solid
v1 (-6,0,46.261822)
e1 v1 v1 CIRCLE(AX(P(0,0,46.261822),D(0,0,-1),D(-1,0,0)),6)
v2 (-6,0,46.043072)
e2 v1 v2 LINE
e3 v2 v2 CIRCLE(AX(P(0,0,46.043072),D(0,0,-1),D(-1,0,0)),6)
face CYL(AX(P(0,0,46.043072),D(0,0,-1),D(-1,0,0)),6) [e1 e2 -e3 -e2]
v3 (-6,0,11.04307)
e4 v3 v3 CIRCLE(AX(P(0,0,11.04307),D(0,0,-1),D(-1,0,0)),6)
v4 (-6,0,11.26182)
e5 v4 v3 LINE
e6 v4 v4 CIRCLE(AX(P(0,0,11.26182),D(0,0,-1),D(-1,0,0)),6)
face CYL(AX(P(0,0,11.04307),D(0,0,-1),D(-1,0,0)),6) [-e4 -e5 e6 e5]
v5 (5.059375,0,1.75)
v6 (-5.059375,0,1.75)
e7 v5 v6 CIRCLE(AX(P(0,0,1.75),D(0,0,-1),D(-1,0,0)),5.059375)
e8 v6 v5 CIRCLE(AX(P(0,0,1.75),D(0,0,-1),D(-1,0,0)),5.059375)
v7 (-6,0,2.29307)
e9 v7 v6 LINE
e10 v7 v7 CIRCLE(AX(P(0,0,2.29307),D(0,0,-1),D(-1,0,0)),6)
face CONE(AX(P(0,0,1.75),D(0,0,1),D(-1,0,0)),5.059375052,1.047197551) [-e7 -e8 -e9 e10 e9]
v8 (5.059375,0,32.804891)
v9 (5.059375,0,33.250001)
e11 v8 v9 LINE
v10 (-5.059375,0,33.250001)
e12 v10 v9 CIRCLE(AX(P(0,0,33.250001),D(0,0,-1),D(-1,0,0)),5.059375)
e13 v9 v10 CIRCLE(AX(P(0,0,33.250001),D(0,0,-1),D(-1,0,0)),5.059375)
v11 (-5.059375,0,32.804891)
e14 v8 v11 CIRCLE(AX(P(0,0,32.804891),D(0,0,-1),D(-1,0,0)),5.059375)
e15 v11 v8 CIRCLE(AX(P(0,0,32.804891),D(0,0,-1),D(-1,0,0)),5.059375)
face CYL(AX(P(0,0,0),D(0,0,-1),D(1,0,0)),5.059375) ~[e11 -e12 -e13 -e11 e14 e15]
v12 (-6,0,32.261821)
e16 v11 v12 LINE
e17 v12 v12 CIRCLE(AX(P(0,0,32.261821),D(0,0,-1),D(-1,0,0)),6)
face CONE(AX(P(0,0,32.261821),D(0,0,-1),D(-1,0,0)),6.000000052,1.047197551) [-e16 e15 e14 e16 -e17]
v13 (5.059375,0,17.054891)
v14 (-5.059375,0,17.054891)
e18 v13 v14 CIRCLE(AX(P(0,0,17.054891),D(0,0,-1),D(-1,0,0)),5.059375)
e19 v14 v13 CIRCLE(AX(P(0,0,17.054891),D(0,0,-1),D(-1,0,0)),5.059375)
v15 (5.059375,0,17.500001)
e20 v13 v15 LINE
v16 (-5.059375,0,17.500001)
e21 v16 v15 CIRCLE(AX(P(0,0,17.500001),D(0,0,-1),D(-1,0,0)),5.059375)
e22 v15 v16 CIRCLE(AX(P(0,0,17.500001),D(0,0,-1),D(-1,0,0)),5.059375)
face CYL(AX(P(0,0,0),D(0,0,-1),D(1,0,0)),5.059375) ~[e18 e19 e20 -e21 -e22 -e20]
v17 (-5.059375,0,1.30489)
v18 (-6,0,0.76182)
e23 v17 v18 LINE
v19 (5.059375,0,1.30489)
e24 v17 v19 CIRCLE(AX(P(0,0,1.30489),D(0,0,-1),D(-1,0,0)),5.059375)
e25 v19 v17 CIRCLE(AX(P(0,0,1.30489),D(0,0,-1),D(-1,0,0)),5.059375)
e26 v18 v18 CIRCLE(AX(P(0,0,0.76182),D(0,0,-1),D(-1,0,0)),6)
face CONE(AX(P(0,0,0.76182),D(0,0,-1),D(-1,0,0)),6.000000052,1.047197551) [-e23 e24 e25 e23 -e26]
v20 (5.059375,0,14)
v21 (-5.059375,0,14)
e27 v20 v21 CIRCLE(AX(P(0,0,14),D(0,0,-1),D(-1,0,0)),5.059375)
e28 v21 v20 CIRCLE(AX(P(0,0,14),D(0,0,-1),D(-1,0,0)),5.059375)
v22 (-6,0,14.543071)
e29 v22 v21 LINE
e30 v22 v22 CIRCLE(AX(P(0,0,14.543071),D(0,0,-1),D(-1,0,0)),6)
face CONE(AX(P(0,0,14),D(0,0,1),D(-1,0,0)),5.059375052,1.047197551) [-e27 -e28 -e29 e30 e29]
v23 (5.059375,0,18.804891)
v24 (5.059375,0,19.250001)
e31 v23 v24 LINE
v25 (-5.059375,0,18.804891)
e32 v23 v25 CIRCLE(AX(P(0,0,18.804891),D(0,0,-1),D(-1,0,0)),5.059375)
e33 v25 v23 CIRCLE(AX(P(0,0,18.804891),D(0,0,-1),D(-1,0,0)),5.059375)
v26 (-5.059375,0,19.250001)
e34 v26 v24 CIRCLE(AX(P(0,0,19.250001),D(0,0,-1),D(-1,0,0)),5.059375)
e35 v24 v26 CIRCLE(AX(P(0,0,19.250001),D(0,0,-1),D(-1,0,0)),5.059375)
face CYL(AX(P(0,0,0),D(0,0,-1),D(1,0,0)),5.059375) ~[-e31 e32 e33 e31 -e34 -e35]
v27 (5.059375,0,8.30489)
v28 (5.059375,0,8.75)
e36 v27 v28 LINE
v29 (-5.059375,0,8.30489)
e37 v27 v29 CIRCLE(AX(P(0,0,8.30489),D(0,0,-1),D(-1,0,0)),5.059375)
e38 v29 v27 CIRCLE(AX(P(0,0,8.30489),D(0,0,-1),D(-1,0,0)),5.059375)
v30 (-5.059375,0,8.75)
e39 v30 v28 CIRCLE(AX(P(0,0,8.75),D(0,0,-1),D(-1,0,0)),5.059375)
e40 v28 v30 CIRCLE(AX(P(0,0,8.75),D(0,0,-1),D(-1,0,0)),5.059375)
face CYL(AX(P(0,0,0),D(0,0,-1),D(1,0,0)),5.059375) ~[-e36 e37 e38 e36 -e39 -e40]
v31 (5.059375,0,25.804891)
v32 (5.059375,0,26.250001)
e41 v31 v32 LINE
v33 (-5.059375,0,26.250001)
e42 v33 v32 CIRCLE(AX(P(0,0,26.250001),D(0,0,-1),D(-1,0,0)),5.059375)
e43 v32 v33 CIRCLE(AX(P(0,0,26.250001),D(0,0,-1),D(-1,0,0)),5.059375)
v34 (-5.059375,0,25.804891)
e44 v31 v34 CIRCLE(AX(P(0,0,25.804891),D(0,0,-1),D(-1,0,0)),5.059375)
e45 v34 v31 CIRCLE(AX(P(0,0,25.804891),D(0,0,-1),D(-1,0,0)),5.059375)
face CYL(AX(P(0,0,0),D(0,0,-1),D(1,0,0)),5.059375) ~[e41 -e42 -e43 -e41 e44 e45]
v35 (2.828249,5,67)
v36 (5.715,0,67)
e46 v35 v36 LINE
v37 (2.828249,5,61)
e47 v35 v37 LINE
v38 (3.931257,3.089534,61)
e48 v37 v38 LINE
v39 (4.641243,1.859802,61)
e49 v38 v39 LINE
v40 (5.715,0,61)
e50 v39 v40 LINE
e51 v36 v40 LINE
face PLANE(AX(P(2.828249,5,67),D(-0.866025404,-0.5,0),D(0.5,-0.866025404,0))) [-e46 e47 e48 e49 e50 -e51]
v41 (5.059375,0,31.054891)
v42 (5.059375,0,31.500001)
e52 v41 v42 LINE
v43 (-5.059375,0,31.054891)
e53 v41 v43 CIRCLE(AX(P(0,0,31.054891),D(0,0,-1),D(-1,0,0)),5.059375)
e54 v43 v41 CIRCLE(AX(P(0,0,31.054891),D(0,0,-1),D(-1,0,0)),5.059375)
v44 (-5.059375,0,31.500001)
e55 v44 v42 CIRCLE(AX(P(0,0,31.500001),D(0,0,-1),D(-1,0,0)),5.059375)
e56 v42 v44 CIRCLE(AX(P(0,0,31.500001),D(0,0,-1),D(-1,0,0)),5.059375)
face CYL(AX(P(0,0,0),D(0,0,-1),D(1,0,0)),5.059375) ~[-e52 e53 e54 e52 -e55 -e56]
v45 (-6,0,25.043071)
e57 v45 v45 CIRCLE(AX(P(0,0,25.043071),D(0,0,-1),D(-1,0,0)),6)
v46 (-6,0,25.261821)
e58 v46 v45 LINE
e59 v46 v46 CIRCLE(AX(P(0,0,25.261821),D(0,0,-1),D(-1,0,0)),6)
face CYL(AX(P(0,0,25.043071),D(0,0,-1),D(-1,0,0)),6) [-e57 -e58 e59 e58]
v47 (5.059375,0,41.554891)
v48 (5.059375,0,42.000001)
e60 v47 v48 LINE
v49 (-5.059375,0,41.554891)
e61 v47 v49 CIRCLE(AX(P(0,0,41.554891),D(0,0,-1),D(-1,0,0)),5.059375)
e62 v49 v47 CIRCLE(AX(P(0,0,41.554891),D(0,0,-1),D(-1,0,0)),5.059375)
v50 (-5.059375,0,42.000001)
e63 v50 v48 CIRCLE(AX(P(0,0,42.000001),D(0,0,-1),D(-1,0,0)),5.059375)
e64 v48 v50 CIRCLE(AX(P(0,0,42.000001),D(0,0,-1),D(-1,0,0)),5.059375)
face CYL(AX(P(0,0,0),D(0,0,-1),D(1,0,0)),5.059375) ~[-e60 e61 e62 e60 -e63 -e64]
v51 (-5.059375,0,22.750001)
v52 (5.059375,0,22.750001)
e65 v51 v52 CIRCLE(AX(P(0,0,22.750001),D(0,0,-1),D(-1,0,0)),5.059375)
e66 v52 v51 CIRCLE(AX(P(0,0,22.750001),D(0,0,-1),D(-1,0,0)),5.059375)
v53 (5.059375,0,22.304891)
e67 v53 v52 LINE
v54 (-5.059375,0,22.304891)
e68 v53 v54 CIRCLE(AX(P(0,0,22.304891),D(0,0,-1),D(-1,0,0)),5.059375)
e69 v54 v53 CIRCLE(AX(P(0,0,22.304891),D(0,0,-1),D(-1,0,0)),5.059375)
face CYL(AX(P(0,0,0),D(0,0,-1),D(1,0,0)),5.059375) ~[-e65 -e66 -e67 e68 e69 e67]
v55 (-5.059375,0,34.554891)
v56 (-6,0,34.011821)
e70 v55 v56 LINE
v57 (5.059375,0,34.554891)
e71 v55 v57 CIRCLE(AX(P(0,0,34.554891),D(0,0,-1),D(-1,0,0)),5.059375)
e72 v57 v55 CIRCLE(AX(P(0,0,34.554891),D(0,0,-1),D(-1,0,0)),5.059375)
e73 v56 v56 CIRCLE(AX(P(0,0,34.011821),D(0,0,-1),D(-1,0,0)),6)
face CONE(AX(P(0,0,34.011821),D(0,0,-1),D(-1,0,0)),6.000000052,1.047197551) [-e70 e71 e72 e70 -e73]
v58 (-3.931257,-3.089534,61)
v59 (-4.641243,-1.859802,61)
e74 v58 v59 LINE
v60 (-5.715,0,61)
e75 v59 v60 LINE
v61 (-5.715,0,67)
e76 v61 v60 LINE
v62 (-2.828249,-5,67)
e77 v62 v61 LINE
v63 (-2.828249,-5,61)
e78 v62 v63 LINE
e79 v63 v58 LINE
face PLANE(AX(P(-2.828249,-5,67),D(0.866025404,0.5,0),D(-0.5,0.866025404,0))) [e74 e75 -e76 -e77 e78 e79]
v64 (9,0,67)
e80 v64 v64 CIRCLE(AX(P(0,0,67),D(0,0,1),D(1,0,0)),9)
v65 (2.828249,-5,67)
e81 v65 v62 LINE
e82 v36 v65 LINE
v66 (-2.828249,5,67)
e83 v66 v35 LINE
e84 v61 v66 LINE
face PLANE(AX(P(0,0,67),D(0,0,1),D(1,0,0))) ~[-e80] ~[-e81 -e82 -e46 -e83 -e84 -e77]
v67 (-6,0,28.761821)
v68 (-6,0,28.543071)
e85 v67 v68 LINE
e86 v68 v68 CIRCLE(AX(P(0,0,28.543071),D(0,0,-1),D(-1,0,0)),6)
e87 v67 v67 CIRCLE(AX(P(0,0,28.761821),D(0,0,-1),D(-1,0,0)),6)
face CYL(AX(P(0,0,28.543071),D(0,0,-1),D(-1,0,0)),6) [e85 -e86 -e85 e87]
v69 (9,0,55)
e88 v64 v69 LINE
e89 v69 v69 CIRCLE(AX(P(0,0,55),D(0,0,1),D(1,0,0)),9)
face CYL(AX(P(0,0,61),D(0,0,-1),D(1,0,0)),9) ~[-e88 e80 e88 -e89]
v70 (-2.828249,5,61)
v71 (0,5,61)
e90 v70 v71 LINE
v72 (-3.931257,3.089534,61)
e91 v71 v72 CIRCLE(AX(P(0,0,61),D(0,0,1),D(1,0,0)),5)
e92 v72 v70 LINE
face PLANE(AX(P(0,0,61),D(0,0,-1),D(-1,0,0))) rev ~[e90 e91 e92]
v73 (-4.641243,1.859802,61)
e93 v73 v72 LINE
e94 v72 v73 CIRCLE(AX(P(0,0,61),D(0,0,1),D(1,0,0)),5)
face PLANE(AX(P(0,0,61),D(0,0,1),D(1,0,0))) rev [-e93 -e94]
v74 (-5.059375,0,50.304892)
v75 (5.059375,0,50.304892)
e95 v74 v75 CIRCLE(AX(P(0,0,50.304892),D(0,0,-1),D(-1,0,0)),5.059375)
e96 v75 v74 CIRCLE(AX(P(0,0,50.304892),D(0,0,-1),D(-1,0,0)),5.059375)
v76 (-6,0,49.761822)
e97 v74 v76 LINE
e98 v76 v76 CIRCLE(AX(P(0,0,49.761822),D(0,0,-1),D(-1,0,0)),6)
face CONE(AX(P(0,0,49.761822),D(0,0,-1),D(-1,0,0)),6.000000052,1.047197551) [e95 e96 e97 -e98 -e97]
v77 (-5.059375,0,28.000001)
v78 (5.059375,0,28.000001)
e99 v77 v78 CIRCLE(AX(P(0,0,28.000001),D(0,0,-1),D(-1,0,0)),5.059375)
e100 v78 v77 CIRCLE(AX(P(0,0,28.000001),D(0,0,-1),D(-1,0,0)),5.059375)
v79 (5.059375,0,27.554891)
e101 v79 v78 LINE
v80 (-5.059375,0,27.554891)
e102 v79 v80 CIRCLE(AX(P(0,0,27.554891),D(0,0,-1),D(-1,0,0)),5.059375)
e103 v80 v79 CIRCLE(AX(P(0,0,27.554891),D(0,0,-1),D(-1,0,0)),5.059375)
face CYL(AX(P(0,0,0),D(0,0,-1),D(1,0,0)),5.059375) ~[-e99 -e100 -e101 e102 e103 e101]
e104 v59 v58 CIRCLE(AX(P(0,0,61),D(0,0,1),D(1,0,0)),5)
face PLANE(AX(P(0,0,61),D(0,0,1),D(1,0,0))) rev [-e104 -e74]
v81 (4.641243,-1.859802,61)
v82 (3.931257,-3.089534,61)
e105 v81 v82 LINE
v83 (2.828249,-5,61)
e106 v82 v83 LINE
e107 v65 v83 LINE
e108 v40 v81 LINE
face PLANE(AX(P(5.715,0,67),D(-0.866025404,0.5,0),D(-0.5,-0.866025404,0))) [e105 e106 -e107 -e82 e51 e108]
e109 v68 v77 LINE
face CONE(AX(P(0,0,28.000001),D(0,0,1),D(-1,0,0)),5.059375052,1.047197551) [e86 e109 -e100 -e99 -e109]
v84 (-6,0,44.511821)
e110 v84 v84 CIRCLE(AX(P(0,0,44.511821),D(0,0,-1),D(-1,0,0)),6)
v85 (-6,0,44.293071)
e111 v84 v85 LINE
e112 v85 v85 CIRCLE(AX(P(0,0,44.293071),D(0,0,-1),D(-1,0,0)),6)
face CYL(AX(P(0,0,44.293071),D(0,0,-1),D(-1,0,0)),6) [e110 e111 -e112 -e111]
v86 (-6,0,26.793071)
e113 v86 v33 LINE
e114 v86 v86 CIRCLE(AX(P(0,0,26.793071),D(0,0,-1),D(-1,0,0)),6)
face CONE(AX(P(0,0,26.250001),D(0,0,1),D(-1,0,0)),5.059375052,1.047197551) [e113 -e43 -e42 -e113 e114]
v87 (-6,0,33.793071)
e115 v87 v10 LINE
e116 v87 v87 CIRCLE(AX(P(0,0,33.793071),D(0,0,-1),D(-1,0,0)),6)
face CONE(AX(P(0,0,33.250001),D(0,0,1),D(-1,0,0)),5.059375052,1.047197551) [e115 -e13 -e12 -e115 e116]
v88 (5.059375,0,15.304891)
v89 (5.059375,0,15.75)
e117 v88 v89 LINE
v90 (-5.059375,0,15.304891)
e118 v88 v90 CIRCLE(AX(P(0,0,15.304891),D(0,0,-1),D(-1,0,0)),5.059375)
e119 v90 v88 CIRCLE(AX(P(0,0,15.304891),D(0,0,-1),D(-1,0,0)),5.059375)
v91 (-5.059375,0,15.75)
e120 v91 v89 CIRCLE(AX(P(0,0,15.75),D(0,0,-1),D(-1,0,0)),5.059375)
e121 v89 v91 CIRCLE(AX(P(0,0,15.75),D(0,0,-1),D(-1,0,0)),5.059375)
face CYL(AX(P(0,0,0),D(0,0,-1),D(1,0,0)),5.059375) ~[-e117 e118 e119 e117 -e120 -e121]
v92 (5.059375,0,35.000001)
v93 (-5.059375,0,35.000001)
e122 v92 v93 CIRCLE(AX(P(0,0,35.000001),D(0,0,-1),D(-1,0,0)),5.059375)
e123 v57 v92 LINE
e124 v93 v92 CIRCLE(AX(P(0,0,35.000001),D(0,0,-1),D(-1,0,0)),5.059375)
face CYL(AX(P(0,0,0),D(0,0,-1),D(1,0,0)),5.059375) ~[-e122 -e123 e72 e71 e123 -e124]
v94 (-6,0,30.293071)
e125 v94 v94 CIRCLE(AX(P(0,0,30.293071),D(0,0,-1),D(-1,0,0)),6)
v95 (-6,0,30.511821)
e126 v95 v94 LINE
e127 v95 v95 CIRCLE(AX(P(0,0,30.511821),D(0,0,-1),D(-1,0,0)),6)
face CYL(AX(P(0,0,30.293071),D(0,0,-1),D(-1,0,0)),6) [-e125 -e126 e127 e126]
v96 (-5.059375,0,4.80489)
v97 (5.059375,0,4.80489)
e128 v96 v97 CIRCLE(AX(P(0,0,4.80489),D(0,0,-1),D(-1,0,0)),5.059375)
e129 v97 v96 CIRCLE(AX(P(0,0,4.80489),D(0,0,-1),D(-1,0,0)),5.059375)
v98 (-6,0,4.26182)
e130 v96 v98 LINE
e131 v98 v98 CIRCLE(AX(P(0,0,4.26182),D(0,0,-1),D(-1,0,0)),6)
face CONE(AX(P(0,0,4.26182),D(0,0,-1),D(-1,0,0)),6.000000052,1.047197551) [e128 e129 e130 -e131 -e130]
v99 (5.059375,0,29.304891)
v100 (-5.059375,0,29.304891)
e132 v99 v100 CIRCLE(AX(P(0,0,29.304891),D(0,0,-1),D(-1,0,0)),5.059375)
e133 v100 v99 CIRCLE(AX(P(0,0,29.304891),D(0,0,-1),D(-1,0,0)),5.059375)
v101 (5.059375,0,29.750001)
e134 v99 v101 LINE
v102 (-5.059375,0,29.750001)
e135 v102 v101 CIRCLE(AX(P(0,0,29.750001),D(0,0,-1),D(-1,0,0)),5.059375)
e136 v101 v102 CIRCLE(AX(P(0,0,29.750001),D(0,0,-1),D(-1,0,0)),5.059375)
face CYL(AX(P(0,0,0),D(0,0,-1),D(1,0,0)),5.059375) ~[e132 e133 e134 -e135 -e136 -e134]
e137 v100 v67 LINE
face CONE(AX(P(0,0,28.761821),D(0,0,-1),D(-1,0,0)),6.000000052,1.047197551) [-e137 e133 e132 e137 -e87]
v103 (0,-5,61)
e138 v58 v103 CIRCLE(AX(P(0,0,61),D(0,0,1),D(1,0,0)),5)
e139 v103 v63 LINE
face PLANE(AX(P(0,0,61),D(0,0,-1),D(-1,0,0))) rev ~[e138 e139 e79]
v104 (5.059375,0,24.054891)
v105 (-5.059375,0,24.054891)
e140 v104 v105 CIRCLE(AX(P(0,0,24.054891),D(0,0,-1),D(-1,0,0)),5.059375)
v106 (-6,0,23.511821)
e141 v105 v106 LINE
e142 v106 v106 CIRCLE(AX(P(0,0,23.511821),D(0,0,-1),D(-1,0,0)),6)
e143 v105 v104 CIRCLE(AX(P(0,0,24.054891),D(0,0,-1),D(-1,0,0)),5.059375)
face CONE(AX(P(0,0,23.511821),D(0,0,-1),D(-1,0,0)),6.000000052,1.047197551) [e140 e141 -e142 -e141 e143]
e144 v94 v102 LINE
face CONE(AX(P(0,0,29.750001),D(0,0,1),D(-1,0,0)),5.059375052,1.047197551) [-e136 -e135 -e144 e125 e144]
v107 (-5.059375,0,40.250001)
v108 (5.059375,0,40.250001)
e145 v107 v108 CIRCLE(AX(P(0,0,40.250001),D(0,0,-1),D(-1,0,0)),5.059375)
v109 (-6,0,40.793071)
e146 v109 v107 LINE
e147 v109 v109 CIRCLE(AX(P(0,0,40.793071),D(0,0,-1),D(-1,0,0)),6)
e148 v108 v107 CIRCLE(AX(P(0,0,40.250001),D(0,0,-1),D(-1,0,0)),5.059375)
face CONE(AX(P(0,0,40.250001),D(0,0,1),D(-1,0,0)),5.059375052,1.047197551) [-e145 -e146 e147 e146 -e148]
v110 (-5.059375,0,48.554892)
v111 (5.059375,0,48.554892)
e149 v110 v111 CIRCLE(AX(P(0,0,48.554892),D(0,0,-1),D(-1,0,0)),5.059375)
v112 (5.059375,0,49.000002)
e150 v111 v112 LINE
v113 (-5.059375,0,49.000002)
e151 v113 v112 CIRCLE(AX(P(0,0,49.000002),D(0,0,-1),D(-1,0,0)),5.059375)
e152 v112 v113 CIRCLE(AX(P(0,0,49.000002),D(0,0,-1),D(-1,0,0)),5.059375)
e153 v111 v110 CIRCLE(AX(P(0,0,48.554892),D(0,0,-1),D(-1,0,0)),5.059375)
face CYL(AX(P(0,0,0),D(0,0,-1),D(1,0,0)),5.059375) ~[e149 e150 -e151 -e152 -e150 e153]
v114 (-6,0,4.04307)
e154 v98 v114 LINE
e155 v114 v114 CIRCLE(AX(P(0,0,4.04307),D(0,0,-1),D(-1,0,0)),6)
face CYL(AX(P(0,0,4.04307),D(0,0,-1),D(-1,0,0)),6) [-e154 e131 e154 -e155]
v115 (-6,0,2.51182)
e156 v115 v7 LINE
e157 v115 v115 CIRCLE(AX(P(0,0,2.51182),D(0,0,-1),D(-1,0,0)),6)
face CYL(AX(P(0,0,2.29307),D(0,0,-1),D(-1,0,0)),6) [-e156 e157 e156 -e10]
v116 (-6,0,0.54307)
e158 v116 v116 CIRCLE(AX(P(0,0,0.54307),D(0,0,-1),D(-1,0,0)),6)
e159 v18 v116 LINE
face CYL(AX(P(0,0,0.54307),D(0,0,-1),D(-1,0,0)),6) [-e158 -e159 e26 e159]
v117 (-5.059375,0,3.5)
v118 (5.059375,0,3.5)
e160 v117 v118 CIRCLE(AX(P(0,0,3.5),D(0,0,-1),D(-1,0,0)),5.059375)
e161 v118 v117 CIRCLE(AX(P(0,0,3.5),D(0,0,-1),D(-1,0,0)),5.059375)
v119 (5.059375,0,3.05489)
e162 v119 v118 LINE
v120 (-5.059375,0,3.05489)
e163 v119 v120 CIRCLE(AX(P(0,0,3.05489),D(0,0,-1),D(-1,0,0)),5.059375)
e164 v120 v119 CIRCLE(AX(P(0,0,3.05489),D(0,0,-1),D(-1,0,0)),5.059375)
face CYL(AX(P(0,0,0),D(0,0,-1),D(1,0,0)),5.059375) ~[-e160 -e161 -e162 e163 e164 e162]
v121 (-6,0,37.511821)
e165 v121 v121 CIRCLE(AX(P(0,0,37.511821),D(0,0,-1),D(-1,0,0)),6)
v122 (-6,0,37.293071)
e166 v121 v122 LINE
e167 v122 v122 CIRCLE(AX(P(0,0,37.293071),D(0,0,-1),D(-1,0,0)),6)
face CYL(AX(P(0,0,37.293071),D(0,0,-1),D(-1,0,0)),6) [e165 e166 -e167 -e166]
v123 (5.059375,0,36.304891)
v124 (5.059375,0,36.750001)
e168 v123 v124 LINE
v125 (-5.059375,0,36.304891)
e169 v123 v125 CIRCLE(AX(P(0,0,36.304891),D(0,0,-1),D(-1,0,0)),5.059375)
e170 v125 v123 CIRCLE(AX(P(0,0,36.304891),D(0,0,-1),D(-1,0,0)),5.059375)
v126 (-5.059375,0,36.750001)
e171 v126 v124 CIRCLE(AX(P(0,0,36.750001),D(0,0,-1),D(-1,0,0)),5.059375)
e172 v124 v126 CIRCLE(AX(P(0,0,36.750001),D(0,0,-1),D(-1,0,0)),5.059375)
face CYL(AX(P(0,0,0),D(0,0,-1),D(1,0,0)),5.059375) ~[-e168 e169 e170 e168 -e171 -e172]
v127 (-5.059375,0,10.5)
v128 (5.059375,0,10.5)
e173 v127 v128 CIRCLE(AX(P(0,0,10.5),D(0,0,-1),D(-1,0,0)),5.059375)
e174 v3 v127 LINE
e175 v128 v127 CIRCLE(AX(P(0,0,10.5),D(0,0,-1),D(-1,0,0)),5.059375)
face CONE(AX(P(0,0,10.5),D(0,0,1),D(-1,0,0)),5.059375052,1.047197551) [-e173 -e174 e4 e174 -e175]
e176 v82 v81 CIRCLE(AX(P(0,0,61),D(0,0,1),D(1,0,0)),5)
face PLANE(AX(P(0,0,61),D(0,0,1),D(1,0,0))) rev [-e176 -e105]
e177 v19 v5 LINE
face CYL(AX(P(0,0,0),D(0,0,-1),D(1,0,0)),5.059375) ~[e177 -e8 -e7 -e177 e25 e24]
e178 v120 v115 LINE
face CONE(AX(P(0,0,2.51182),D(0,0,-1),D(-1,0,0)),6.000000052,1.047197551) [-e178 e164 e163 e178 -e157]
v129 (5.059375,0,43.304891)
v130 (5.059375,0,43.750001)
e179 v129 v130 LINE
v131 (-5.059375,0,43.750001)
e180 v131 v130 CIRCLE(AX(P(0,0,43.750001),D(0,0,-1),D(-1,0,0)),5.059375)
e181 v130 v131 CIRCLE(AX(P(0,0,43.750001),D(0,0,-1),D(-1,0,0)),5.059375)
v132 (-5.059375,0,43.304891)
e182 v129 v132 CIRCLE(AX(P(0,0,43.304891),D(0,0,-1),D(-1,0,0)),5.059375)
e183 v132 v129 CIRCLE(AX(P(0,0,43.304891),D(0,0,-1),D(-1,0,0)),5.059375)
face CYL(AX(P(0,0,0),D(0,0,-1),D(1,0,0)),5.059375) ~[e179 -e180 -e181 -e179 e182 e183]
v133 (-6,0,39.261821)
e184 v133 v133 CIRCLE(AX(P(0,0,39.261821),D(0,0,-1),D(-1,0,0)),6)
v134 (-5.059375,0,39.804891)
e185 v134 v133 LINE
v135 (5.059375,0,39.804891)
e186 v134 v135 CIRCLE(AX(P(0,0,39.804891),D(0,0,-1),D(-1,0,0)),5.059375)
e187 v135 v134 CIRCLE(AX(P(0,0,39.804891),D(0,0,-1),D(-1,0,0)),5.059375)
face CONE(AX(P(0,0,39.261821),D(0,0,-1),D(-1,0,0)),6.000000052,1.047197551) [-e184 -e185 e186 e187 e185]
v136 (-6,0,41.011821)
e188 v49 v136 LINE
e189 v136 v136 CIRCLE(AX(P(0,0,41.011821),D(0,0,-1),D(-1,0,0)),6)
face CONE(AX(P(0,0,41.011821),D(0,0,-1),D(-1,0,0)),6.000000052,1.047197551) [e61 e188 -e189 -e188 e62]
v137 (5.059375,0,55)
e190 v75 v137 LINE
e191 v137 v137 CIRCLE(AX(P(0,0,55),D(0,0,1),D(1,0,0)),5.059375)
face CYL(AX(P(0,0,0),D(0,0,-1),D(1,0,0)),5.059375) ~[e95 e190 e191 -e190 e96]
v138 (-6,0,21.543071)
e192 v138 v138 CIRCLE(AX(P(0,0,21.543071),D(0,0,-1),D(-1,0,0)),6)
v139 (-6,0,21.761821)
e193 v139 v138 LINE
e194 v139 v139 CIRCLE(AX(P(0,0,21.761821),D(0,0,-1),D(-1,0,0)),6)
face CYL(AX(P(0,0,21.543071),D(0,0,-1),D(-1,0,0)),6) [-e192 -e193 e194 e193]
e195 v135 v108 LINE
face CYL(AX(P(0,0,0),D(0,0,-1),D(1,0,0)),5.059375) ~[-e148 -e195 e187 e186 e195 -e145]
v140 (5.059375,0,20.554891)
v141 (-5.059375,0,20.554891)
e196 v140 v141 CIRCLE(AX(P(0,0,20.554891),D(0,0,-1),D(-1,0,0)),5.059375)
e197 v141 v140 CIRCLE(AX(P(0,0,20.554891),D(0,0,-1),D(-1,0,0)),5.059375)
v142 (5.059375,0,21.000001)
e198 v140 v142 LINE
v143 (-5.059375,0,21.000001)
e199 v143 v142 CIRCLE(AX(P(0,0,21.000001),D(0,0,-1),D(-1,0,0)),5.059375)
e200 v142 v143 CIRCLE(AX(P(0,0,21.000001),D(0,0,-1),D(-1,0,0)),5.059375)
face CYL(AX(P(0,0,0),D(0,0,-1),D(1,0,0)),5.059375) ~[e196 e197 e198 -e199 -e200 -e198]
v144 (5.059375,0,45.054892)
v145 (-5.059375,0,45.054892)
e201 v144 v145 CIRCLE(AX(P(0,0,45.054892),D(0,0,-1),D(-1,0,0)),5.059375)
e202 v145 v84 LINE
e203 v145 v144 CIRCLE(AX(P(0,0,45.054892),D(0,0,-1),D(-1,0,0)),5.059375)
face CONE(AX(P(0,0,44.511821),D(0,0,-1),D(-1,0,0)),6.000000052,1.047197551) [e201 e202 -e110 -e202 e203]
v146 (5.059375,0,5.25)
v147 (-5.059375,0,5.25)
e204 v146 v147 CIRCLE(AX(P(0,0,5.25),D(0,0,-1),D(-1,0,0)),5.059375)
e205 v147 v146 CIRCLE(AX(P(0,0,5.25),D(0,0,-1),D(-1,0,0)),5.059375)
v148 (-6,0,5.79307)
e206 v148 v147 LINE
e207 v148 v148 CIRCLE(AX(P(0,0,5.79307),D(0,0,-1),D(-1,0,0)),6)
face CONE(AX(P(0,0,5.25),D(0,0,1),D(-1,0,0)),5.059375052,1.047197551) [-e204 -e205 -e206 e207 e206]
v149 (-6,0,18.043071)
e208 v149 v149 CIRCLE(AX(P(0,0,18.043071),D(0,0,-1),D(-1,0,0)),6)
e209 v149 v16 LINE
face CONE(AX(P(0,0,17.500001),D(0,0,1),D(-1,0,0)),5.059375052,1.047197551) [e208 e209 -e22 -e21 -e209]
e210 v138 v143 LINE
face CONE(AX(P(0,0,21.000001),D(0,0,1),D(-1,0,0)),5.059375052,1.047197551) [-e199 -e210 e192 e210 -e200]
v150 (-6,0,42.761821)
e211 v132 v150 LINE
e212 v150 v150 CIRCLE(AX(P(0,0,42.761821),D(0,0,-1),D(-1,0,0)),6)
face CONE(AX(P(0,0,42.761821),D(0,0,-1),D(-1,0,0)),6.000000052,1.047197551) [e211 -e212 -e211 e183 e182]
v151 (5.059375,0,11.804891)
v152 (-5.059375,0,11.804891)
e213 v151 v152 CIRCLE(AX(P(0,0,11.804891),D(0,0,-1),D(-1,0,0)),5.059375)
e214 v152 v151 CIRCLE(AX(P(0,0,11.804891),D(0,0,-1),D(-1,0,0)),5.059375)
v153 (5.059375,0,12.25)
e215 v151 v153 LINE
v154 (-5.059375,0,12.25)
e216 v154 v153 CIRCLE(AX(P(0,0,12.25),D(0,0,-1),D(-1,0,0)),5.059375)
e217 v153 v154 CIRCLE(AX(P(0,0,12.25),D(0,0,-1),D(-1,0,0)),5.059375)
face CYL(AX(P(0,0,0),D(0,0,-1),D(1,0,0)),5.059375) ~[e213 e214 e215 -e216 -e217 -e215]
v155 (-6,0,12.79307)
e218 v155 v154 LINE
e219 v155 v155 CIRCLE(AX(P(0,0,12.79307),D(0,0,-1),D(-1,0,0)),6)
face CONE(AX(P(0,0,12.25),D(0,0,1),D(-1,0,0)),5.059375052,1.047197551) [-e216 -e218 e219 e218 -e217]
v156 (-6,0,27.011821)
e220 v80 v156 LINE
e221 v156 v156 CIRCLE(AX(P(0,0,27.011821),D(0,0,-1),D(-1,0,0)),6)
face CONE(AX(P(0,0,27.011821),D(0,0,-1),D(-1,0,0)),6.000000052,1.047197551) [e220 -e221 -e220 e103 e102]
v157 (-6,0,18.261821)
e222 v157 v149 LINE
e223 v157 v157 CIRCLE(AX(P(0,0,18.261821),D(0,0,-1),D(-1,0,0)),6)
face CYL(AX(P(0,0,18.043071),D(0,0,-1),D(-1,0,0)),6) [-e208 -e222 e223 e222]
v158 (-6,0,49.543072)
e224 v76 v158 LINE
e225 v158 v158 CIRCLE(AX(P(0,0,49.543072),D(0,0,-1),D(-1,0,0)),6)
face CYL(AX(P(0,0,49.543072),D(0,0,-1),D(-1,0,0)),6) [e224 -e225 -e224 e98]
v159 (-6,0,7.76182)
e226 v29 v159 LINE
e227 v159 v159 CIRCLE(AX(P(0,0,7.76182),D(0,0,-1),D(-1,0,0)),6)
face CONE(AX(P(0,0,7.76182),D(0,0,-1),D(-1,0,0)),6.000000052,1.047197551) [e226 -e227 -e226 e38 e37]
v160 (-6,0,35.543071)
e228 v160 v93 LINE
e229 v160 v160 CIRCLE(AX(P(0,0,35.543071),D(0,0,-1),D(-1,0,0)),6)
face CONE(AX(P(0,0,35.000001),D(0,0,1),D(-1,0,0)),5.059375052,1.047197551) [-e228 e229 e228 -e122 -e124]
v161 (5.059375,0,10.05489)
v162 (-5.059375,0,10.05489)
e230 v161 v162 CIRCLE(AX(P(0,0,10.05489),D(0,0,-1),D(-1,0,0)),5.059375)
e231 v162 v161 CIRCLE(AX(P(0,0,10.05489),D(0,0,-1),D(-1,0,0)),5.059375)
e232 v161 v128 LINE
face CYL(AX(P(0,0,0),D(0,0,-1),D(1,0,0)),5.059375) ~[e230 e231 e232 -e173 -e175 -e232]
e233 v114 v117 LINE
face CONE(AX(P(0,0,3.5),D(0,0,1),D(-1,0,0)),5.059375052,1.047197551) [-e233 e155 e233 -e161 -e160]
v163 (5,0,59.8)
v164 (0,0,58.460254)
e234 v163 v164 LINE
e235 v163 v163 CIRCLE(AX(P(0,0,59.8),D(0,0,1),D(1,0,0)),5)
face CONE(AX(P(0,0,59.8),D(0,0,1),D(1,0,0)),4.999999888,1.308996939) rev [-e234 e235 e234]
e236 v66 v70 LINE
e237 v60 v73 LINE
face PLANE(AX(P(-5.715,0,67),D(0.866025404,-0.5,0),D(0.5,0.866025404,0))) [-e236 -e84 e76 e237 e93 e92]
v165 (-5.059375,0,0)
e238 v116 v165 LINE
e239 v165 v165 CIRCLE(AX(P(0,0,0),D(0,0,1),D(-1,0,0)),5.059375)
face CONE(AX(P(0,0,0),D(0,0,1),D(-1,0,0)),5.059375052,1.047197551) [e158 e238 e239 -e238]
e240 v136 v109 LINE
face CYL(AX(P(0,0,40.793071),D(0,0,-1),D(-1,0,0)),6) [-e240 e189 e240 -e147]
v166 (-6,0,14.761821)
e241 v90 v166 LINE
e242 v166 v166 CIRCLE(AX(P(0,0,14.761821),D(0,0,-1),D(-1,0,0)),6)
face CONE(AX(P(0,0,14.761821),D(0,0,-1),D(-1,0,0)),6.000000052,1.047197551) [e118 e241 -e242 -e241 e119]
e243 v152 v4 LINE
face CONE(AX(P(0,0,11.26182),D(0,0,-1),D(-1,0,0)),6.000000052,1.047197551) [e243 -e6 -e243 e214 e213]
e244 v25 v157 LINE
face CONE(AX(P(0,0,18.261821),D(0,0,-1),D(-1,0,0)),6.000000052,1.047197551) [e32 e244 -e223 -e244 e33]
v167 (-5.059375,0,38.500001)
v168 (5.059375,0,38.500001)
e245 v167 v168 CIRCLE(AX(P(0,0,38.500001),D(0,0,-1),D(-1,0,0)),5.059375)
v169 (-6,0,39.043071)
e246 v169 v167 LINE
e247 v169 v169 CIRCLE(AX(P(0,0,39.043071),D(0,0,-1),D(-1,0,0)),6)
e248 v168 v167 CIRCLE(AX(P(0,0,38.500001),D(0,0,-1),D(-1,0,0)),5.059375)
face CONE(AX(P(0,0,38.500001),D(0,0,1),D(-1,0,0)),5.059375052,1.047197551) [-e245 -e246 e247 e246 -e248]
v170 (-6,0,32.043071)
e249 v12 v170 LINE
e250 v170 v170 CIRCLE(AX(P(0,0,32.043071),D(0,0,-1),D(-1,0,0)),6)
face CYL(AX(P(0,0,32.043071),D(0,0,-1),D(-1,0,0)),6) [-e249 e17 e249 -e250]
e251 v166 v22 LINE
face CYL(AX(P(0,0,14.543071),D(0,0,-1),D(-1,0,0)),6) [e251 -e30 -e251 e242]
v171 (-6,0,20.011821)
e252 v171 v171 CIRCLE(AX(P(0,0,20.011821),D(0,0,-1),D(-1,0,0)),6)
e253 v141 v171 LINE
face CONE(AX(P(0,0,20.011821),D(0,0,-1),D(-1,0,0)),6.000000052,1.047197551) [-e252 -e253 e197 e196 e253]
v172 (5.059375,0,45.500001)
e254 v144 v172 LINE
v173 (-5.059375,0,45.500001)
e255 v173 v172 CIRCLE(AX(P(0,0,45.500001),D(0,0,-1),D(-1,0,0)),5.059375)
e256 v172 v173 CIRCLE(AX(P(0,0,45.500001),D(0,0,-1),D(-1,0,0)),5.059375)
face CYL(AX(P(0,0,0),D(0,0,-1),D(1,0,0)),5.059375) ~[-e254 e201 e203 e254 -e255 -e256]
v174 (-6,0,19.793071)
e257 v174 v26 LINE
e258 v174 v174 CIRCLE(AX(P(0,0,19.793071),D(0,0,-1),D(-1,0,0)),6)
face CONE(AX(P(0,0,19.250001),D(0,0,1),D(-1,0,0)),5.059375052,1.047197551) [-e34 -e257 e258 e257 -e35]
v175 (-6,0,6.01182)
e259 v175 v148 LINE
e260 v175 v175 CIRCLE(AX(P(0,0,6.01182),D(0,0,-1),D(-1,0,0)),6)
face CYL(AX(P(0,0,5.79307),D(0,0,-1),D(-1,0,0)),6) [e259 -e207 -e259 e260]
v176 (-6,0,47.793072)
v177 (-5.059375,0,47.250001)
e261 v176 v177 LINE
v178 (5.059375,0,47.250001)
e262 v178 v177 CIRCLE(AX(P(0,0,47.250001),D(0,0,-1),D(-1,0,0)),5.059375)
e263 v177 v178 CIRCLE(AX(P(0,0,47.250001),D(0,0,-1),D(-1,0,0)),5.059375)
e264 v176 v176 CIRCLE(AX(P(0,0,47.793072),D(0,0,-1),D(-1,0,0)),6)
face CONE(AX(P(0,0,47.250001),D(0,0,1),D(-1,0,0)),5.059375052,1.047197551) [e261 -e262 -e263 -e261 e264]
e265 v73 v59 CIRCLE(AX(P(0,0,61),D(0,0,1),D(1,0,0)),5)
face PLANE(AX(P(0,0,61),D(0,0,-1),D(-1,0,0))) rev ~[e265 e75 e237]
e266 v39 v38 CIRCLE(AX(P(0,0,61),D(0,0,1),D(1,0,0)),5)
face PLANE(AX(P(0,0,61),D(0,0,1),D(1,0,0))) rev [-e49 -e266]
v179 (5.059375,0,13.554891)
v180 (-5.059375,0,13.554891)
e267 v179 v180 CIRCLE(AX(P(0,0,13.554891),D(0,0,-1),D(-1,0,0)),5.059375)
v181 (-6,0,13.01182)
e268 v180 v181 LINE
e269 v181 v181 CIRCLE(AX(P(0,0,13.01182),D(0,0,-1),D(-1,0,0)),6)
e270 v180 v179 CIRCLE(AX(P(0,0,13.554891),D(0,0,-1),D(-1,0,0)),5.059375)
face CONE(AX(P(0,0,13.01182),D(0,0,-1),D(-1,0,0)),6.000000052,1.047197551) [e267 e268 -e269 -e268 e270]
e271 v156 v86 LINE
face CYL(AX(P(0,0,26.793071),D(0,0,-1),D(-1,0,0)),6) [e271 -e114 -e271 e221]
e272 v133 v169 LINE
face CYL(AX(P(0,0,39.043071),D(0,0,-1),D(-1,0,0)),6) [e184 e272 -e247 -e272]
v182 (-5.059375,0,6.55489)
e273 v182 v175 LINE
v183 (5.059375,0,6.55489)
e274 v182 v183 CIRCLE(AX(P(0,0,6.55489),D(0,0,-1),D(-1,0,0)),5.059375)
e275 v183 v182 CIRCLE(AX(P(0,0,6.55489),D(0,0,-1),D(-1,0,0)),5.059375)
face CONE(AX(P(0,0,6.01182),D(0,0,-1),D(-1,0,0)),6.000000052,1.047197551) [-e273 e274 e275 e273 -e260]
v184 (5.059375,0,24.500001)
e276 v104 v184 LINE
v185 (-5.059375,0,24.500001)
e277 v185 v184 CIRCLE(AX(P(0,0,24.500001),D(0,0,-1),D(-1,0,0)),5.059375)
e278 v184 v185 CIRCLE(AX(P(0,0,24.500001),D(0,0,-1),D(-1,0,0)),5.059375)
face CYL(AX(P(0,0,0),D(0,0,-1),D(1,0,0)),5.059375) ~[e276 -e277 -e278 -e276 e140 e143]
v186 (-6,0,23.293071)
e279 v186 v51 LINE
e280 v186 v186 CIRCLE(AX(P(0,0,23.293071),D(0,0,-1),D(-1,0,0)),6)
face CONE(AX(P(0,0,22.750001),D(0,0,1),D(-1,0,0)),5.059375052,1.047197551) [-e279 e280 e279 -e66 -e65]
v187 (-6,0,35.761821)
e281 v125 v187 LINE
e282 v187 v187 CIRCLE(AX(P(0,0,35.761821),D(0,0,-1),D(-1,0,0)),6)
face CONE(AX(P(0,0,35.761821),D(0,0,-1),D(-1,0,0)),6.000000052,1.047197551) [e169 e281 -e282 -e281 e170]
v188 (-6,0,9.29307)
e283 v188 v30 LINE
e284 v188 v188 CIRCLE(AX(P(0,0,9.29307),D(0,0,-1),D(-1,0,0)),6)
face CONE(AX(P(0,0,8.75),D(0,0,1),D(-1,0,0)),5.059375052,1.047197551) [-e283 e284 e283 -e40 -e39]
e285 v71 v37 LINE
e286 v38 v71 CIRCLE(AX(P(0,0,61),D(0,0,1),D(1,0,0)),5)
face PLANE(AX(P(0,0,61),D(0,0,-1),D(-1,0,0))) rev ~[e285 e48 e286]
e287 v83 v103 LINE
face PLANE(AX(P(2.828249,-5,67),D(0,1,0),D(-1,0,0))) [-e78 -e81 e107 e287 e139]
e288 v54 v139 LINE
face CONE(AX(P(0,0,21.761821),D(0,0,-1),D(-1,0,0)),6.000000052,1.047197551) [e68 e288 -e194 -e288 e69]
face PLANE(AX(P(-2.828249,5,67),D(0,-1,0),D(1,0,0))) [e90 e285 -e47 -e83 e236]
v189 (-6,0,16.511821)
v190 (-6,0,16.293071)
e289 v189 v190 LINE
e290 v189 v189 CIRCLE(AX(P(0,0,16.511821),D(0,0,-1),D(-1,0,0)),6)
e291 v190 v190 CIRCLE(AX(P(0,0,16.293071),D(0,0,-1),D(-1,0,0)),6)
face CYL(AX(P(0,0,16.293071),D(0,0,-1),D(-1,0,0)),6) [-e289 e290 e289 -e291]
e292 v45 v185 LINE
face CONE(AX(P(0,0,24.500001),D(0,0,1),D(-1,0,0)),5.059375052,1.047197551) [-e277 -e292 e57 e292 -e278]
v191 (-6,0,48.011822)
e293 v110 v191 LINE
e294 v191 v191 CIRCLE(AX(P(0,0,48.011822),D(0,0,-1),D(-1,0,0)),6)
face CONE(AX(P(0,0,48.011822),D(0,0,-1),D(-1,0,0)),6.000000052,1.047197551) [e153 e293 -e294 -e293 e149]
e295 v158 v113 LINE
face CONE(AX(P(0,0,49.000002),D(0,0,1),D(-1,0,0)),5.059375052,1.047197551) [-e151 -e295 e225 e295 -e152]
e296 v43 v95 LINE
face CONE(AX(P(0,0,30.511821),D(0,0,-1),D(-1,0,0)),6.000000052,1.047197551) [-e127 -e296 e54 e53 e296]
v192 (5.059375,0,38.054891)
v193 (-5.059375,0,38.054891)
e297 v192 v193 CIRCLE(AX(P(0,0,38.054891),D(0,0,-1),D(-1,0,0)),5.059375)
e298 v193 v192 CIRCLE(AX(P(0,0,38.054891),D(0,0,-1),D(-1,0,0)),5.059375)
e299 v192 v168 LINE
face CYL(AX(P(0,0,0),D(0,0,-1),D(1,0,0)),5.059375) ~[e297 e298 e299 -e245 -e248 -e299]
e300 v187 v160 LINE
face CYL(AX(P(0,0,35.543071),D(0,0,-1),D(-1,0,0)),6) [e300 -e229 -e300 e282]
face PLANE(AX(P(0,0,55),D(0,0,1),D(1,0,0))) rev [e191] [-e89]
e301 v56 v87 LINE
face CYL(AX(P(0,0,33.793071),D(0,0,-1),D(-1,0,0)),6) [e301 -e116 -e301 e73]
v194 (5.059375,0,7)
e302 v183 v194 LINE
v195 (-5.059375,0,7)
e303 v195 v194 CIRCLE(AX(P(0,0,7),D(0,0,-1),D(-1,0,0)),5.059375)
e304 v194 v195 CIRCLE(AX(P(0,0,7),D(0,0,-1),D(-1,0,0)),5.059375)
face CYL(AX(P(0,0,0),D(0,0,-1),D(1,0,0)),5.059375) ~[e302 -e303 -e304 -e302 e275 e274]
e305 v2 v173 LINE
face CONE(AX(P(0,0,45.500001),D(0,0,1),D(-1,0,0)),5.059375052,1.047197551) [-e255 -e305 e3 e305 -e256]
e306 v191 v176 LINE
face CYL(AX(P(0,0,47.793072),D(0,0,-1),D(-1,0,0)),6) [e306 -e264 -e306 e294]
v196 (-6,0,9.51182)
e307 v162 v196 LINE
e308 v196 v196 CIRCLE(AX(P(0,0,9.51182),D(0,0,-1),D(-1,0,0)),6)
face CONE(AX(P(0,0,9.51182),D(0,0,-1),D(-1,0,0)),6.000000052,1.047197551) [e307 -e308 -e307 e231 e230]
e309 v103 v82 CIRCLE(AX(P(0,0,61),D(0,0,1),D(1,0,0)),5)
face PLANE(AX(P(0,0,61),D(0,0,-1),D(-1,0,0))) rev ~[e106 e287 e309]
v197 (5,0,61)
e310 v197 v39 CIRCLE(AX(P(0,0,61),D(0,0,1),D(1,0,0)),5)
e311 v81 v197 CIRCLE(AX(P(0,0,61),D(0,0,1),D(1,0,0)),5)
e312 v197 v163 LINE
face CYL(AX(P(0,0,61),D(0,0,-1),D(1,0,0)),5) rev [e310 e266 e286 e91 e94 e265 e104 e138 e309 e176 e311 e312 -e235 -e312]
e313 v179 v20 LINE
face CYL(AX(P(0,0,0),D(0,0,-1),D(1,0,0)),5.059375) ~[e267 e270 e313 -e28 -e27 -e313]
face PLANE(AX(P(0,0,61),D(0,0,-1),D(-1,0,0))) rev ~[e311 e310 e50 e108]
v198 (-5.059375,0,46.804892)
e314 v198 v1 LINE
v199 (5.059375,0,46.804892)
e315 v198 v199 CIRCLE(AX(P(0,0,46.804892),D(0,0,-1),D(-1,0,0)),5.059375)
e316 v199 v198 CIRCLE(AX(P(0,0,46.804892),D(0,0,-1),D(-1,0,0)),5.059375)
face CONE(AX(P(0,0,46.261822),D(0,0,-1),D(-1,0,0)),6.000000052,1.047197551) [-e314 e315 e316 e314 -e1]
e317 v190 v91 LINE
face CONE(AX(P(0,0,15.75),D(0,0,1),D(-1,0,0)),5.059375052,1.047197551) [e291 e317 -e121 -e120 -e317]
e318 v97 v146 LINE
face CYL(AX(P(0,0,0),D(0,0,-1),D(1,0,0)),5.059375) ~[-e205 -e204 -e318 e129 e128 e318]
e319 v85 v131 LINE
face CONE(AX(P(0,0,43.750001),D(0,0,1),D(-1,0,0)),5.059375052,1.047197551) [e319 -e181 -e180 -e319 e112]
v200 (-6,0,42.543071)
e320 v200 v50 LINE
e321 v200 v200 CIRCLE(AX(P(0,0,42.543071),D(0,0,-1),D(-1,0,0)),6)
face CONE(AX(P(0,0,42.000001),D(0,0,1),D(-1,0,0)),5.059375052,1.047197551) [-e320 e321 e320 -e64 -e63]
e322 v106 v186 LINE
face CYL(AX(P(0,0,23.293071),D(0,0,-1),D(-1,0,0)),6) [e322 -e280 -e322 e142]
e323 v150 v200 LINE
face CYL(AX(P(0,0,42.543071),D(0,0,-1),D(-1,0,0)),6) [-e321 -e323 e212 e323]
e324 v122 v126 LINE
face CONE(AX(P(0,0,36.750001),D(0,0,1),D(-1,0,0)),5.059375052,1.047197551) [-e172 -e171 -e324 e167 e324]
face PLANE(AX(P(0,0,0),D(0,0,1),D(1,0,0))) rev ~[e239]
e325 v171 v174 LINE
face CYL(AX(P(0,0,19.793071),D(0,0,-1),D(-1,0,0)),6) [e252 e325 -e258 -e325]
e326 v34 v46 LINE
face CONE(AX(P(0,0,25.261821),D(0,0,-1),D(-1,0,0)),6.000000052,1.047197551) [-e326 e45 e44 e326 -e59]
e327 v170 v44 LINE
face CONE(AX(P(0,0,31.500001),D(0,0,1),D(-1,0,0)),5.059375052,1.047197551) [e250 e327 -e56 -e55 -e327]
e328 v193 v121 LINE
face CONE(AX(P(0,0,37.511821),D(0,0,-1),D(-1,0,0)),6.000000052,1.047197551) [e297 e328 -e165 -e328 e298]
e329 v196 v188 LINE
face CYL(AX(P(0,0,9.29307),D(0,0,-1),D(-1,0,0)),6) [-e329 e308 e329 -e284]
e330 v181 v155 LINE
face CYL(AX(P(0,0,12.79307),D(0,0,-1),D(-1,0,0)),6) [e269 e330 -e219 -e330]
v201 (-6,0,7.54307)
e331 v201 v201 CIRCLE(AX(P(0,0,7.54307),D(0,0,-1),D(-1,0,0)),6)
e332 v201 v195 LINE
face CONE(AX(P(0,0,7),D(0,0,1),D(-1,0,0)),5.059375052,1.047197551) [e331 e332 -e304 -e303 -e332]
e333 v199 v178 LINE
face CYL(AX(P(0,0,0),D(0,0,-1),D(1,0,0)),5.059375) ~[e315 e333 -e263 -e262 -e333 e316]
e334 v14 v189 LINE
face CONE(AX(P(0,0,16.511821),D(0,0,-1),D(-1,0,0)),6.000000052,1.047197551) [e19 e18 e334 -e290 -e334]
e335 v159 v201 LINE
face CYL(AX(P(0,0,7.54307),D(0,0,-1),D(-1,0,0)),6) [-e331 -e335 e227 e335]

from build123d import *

# Parameters (mm, degrees)
SKETCH1_R          = 5.059375052
BASE_EXTRUDE_DEPTH = 55
LPATTERN1_COUNT    = 29
LPATTERN1_PITCH    = 1.750000054
SKETCH7_W          = 8.999999613
SKETCH7_H          = 12.000000104
CUT_EXTRUDE2_DEPTH = 6.000000052


with BuildPart() as part:
    # Sketch1 → Base-Extrude (new body)
    with BuildSketch(Plane.XY):
        Circle(SKETCH1_R)
    extrude(amount=BASE_EXTRUDE_DEPTH)

    # Boss-Sweep1: sweep along a path in Sketch4
    with BuildLine(Plane(origin=(0, 0, 0.5), x_dir=(-1, 0, 0), z_dir=(0, 0, -1))) as boss_sweep1_path:
        CenterArc((0, 0), 5.059375052, 0, 360)
    # Sketch2 → Boss-Sweep1 (sweep)
    with BuildSketch(Plane(origin=(0, 0, 0), x_dir=(1, 0, 0), z_dir=(0, 1, 0))):
        Polygon((5.059375052, 0), (6.000000052, -0.543070097), (6.000000052, -0.761820104), (5.059375052, -1.304890201), align=None)
    boss_sweep1 = sweep(path=boss_sweep1_path.line)

    # LPattern1: Boss-Sweep1 ×29
    with Locations(*[(0, 0, i * LPATTERN1_PITCH) for i in range(1, LPATTERN1_COUNT)]):
        add(boss_sweep1)

    # Sketch7 → Boss-Revolve2 (revolve)
    with BuildSketch(Plane(origin=(0, 0, 0), x_dir=(1, 0, 0), z_dir=(0, 1, 0))):
        with Locations((4.499999806, -61.000000052)):
            Rectangle(SKETCH7_W, SKETCH7_H)
    revolve(axis=Axis((0, 0, 0), (0, 0, 1)))

    # Sketch8 → Cut-Extrude2 (cut)
    with BuildSketch(Plane.XY.offset(67.000000104)):
        Polygon((-2.828248696, 4.999999888), (2.828248696, 4.999999888), (5.714999977, 0), (2.828248696, -4.999999888), (-2.828248696, -4.999999888), (-5.714999977, 0), align=None)
    extrude(amount=-CUT_EXTRUDE2_DEPTH, mode=Mode.SUBTRACT)

    # Sketch9 → Cut-Revolve1 (revolve, cut)
    with BuildSketch(Plane(origin=(0, 0, 0), x_dir=(1, 0, 0), z_dir=(0, 1, 0))):
        Polygon((0, -61.000000052), (4.999999888, -61.000000052), (4.999999888, -59.799999995), (0, -58.460254063), align=None)
    revolve(axis=Axis((0, 0, 0), (0, 0, 1)), mode=Mode.SUBTRACT)


solid = part.part
